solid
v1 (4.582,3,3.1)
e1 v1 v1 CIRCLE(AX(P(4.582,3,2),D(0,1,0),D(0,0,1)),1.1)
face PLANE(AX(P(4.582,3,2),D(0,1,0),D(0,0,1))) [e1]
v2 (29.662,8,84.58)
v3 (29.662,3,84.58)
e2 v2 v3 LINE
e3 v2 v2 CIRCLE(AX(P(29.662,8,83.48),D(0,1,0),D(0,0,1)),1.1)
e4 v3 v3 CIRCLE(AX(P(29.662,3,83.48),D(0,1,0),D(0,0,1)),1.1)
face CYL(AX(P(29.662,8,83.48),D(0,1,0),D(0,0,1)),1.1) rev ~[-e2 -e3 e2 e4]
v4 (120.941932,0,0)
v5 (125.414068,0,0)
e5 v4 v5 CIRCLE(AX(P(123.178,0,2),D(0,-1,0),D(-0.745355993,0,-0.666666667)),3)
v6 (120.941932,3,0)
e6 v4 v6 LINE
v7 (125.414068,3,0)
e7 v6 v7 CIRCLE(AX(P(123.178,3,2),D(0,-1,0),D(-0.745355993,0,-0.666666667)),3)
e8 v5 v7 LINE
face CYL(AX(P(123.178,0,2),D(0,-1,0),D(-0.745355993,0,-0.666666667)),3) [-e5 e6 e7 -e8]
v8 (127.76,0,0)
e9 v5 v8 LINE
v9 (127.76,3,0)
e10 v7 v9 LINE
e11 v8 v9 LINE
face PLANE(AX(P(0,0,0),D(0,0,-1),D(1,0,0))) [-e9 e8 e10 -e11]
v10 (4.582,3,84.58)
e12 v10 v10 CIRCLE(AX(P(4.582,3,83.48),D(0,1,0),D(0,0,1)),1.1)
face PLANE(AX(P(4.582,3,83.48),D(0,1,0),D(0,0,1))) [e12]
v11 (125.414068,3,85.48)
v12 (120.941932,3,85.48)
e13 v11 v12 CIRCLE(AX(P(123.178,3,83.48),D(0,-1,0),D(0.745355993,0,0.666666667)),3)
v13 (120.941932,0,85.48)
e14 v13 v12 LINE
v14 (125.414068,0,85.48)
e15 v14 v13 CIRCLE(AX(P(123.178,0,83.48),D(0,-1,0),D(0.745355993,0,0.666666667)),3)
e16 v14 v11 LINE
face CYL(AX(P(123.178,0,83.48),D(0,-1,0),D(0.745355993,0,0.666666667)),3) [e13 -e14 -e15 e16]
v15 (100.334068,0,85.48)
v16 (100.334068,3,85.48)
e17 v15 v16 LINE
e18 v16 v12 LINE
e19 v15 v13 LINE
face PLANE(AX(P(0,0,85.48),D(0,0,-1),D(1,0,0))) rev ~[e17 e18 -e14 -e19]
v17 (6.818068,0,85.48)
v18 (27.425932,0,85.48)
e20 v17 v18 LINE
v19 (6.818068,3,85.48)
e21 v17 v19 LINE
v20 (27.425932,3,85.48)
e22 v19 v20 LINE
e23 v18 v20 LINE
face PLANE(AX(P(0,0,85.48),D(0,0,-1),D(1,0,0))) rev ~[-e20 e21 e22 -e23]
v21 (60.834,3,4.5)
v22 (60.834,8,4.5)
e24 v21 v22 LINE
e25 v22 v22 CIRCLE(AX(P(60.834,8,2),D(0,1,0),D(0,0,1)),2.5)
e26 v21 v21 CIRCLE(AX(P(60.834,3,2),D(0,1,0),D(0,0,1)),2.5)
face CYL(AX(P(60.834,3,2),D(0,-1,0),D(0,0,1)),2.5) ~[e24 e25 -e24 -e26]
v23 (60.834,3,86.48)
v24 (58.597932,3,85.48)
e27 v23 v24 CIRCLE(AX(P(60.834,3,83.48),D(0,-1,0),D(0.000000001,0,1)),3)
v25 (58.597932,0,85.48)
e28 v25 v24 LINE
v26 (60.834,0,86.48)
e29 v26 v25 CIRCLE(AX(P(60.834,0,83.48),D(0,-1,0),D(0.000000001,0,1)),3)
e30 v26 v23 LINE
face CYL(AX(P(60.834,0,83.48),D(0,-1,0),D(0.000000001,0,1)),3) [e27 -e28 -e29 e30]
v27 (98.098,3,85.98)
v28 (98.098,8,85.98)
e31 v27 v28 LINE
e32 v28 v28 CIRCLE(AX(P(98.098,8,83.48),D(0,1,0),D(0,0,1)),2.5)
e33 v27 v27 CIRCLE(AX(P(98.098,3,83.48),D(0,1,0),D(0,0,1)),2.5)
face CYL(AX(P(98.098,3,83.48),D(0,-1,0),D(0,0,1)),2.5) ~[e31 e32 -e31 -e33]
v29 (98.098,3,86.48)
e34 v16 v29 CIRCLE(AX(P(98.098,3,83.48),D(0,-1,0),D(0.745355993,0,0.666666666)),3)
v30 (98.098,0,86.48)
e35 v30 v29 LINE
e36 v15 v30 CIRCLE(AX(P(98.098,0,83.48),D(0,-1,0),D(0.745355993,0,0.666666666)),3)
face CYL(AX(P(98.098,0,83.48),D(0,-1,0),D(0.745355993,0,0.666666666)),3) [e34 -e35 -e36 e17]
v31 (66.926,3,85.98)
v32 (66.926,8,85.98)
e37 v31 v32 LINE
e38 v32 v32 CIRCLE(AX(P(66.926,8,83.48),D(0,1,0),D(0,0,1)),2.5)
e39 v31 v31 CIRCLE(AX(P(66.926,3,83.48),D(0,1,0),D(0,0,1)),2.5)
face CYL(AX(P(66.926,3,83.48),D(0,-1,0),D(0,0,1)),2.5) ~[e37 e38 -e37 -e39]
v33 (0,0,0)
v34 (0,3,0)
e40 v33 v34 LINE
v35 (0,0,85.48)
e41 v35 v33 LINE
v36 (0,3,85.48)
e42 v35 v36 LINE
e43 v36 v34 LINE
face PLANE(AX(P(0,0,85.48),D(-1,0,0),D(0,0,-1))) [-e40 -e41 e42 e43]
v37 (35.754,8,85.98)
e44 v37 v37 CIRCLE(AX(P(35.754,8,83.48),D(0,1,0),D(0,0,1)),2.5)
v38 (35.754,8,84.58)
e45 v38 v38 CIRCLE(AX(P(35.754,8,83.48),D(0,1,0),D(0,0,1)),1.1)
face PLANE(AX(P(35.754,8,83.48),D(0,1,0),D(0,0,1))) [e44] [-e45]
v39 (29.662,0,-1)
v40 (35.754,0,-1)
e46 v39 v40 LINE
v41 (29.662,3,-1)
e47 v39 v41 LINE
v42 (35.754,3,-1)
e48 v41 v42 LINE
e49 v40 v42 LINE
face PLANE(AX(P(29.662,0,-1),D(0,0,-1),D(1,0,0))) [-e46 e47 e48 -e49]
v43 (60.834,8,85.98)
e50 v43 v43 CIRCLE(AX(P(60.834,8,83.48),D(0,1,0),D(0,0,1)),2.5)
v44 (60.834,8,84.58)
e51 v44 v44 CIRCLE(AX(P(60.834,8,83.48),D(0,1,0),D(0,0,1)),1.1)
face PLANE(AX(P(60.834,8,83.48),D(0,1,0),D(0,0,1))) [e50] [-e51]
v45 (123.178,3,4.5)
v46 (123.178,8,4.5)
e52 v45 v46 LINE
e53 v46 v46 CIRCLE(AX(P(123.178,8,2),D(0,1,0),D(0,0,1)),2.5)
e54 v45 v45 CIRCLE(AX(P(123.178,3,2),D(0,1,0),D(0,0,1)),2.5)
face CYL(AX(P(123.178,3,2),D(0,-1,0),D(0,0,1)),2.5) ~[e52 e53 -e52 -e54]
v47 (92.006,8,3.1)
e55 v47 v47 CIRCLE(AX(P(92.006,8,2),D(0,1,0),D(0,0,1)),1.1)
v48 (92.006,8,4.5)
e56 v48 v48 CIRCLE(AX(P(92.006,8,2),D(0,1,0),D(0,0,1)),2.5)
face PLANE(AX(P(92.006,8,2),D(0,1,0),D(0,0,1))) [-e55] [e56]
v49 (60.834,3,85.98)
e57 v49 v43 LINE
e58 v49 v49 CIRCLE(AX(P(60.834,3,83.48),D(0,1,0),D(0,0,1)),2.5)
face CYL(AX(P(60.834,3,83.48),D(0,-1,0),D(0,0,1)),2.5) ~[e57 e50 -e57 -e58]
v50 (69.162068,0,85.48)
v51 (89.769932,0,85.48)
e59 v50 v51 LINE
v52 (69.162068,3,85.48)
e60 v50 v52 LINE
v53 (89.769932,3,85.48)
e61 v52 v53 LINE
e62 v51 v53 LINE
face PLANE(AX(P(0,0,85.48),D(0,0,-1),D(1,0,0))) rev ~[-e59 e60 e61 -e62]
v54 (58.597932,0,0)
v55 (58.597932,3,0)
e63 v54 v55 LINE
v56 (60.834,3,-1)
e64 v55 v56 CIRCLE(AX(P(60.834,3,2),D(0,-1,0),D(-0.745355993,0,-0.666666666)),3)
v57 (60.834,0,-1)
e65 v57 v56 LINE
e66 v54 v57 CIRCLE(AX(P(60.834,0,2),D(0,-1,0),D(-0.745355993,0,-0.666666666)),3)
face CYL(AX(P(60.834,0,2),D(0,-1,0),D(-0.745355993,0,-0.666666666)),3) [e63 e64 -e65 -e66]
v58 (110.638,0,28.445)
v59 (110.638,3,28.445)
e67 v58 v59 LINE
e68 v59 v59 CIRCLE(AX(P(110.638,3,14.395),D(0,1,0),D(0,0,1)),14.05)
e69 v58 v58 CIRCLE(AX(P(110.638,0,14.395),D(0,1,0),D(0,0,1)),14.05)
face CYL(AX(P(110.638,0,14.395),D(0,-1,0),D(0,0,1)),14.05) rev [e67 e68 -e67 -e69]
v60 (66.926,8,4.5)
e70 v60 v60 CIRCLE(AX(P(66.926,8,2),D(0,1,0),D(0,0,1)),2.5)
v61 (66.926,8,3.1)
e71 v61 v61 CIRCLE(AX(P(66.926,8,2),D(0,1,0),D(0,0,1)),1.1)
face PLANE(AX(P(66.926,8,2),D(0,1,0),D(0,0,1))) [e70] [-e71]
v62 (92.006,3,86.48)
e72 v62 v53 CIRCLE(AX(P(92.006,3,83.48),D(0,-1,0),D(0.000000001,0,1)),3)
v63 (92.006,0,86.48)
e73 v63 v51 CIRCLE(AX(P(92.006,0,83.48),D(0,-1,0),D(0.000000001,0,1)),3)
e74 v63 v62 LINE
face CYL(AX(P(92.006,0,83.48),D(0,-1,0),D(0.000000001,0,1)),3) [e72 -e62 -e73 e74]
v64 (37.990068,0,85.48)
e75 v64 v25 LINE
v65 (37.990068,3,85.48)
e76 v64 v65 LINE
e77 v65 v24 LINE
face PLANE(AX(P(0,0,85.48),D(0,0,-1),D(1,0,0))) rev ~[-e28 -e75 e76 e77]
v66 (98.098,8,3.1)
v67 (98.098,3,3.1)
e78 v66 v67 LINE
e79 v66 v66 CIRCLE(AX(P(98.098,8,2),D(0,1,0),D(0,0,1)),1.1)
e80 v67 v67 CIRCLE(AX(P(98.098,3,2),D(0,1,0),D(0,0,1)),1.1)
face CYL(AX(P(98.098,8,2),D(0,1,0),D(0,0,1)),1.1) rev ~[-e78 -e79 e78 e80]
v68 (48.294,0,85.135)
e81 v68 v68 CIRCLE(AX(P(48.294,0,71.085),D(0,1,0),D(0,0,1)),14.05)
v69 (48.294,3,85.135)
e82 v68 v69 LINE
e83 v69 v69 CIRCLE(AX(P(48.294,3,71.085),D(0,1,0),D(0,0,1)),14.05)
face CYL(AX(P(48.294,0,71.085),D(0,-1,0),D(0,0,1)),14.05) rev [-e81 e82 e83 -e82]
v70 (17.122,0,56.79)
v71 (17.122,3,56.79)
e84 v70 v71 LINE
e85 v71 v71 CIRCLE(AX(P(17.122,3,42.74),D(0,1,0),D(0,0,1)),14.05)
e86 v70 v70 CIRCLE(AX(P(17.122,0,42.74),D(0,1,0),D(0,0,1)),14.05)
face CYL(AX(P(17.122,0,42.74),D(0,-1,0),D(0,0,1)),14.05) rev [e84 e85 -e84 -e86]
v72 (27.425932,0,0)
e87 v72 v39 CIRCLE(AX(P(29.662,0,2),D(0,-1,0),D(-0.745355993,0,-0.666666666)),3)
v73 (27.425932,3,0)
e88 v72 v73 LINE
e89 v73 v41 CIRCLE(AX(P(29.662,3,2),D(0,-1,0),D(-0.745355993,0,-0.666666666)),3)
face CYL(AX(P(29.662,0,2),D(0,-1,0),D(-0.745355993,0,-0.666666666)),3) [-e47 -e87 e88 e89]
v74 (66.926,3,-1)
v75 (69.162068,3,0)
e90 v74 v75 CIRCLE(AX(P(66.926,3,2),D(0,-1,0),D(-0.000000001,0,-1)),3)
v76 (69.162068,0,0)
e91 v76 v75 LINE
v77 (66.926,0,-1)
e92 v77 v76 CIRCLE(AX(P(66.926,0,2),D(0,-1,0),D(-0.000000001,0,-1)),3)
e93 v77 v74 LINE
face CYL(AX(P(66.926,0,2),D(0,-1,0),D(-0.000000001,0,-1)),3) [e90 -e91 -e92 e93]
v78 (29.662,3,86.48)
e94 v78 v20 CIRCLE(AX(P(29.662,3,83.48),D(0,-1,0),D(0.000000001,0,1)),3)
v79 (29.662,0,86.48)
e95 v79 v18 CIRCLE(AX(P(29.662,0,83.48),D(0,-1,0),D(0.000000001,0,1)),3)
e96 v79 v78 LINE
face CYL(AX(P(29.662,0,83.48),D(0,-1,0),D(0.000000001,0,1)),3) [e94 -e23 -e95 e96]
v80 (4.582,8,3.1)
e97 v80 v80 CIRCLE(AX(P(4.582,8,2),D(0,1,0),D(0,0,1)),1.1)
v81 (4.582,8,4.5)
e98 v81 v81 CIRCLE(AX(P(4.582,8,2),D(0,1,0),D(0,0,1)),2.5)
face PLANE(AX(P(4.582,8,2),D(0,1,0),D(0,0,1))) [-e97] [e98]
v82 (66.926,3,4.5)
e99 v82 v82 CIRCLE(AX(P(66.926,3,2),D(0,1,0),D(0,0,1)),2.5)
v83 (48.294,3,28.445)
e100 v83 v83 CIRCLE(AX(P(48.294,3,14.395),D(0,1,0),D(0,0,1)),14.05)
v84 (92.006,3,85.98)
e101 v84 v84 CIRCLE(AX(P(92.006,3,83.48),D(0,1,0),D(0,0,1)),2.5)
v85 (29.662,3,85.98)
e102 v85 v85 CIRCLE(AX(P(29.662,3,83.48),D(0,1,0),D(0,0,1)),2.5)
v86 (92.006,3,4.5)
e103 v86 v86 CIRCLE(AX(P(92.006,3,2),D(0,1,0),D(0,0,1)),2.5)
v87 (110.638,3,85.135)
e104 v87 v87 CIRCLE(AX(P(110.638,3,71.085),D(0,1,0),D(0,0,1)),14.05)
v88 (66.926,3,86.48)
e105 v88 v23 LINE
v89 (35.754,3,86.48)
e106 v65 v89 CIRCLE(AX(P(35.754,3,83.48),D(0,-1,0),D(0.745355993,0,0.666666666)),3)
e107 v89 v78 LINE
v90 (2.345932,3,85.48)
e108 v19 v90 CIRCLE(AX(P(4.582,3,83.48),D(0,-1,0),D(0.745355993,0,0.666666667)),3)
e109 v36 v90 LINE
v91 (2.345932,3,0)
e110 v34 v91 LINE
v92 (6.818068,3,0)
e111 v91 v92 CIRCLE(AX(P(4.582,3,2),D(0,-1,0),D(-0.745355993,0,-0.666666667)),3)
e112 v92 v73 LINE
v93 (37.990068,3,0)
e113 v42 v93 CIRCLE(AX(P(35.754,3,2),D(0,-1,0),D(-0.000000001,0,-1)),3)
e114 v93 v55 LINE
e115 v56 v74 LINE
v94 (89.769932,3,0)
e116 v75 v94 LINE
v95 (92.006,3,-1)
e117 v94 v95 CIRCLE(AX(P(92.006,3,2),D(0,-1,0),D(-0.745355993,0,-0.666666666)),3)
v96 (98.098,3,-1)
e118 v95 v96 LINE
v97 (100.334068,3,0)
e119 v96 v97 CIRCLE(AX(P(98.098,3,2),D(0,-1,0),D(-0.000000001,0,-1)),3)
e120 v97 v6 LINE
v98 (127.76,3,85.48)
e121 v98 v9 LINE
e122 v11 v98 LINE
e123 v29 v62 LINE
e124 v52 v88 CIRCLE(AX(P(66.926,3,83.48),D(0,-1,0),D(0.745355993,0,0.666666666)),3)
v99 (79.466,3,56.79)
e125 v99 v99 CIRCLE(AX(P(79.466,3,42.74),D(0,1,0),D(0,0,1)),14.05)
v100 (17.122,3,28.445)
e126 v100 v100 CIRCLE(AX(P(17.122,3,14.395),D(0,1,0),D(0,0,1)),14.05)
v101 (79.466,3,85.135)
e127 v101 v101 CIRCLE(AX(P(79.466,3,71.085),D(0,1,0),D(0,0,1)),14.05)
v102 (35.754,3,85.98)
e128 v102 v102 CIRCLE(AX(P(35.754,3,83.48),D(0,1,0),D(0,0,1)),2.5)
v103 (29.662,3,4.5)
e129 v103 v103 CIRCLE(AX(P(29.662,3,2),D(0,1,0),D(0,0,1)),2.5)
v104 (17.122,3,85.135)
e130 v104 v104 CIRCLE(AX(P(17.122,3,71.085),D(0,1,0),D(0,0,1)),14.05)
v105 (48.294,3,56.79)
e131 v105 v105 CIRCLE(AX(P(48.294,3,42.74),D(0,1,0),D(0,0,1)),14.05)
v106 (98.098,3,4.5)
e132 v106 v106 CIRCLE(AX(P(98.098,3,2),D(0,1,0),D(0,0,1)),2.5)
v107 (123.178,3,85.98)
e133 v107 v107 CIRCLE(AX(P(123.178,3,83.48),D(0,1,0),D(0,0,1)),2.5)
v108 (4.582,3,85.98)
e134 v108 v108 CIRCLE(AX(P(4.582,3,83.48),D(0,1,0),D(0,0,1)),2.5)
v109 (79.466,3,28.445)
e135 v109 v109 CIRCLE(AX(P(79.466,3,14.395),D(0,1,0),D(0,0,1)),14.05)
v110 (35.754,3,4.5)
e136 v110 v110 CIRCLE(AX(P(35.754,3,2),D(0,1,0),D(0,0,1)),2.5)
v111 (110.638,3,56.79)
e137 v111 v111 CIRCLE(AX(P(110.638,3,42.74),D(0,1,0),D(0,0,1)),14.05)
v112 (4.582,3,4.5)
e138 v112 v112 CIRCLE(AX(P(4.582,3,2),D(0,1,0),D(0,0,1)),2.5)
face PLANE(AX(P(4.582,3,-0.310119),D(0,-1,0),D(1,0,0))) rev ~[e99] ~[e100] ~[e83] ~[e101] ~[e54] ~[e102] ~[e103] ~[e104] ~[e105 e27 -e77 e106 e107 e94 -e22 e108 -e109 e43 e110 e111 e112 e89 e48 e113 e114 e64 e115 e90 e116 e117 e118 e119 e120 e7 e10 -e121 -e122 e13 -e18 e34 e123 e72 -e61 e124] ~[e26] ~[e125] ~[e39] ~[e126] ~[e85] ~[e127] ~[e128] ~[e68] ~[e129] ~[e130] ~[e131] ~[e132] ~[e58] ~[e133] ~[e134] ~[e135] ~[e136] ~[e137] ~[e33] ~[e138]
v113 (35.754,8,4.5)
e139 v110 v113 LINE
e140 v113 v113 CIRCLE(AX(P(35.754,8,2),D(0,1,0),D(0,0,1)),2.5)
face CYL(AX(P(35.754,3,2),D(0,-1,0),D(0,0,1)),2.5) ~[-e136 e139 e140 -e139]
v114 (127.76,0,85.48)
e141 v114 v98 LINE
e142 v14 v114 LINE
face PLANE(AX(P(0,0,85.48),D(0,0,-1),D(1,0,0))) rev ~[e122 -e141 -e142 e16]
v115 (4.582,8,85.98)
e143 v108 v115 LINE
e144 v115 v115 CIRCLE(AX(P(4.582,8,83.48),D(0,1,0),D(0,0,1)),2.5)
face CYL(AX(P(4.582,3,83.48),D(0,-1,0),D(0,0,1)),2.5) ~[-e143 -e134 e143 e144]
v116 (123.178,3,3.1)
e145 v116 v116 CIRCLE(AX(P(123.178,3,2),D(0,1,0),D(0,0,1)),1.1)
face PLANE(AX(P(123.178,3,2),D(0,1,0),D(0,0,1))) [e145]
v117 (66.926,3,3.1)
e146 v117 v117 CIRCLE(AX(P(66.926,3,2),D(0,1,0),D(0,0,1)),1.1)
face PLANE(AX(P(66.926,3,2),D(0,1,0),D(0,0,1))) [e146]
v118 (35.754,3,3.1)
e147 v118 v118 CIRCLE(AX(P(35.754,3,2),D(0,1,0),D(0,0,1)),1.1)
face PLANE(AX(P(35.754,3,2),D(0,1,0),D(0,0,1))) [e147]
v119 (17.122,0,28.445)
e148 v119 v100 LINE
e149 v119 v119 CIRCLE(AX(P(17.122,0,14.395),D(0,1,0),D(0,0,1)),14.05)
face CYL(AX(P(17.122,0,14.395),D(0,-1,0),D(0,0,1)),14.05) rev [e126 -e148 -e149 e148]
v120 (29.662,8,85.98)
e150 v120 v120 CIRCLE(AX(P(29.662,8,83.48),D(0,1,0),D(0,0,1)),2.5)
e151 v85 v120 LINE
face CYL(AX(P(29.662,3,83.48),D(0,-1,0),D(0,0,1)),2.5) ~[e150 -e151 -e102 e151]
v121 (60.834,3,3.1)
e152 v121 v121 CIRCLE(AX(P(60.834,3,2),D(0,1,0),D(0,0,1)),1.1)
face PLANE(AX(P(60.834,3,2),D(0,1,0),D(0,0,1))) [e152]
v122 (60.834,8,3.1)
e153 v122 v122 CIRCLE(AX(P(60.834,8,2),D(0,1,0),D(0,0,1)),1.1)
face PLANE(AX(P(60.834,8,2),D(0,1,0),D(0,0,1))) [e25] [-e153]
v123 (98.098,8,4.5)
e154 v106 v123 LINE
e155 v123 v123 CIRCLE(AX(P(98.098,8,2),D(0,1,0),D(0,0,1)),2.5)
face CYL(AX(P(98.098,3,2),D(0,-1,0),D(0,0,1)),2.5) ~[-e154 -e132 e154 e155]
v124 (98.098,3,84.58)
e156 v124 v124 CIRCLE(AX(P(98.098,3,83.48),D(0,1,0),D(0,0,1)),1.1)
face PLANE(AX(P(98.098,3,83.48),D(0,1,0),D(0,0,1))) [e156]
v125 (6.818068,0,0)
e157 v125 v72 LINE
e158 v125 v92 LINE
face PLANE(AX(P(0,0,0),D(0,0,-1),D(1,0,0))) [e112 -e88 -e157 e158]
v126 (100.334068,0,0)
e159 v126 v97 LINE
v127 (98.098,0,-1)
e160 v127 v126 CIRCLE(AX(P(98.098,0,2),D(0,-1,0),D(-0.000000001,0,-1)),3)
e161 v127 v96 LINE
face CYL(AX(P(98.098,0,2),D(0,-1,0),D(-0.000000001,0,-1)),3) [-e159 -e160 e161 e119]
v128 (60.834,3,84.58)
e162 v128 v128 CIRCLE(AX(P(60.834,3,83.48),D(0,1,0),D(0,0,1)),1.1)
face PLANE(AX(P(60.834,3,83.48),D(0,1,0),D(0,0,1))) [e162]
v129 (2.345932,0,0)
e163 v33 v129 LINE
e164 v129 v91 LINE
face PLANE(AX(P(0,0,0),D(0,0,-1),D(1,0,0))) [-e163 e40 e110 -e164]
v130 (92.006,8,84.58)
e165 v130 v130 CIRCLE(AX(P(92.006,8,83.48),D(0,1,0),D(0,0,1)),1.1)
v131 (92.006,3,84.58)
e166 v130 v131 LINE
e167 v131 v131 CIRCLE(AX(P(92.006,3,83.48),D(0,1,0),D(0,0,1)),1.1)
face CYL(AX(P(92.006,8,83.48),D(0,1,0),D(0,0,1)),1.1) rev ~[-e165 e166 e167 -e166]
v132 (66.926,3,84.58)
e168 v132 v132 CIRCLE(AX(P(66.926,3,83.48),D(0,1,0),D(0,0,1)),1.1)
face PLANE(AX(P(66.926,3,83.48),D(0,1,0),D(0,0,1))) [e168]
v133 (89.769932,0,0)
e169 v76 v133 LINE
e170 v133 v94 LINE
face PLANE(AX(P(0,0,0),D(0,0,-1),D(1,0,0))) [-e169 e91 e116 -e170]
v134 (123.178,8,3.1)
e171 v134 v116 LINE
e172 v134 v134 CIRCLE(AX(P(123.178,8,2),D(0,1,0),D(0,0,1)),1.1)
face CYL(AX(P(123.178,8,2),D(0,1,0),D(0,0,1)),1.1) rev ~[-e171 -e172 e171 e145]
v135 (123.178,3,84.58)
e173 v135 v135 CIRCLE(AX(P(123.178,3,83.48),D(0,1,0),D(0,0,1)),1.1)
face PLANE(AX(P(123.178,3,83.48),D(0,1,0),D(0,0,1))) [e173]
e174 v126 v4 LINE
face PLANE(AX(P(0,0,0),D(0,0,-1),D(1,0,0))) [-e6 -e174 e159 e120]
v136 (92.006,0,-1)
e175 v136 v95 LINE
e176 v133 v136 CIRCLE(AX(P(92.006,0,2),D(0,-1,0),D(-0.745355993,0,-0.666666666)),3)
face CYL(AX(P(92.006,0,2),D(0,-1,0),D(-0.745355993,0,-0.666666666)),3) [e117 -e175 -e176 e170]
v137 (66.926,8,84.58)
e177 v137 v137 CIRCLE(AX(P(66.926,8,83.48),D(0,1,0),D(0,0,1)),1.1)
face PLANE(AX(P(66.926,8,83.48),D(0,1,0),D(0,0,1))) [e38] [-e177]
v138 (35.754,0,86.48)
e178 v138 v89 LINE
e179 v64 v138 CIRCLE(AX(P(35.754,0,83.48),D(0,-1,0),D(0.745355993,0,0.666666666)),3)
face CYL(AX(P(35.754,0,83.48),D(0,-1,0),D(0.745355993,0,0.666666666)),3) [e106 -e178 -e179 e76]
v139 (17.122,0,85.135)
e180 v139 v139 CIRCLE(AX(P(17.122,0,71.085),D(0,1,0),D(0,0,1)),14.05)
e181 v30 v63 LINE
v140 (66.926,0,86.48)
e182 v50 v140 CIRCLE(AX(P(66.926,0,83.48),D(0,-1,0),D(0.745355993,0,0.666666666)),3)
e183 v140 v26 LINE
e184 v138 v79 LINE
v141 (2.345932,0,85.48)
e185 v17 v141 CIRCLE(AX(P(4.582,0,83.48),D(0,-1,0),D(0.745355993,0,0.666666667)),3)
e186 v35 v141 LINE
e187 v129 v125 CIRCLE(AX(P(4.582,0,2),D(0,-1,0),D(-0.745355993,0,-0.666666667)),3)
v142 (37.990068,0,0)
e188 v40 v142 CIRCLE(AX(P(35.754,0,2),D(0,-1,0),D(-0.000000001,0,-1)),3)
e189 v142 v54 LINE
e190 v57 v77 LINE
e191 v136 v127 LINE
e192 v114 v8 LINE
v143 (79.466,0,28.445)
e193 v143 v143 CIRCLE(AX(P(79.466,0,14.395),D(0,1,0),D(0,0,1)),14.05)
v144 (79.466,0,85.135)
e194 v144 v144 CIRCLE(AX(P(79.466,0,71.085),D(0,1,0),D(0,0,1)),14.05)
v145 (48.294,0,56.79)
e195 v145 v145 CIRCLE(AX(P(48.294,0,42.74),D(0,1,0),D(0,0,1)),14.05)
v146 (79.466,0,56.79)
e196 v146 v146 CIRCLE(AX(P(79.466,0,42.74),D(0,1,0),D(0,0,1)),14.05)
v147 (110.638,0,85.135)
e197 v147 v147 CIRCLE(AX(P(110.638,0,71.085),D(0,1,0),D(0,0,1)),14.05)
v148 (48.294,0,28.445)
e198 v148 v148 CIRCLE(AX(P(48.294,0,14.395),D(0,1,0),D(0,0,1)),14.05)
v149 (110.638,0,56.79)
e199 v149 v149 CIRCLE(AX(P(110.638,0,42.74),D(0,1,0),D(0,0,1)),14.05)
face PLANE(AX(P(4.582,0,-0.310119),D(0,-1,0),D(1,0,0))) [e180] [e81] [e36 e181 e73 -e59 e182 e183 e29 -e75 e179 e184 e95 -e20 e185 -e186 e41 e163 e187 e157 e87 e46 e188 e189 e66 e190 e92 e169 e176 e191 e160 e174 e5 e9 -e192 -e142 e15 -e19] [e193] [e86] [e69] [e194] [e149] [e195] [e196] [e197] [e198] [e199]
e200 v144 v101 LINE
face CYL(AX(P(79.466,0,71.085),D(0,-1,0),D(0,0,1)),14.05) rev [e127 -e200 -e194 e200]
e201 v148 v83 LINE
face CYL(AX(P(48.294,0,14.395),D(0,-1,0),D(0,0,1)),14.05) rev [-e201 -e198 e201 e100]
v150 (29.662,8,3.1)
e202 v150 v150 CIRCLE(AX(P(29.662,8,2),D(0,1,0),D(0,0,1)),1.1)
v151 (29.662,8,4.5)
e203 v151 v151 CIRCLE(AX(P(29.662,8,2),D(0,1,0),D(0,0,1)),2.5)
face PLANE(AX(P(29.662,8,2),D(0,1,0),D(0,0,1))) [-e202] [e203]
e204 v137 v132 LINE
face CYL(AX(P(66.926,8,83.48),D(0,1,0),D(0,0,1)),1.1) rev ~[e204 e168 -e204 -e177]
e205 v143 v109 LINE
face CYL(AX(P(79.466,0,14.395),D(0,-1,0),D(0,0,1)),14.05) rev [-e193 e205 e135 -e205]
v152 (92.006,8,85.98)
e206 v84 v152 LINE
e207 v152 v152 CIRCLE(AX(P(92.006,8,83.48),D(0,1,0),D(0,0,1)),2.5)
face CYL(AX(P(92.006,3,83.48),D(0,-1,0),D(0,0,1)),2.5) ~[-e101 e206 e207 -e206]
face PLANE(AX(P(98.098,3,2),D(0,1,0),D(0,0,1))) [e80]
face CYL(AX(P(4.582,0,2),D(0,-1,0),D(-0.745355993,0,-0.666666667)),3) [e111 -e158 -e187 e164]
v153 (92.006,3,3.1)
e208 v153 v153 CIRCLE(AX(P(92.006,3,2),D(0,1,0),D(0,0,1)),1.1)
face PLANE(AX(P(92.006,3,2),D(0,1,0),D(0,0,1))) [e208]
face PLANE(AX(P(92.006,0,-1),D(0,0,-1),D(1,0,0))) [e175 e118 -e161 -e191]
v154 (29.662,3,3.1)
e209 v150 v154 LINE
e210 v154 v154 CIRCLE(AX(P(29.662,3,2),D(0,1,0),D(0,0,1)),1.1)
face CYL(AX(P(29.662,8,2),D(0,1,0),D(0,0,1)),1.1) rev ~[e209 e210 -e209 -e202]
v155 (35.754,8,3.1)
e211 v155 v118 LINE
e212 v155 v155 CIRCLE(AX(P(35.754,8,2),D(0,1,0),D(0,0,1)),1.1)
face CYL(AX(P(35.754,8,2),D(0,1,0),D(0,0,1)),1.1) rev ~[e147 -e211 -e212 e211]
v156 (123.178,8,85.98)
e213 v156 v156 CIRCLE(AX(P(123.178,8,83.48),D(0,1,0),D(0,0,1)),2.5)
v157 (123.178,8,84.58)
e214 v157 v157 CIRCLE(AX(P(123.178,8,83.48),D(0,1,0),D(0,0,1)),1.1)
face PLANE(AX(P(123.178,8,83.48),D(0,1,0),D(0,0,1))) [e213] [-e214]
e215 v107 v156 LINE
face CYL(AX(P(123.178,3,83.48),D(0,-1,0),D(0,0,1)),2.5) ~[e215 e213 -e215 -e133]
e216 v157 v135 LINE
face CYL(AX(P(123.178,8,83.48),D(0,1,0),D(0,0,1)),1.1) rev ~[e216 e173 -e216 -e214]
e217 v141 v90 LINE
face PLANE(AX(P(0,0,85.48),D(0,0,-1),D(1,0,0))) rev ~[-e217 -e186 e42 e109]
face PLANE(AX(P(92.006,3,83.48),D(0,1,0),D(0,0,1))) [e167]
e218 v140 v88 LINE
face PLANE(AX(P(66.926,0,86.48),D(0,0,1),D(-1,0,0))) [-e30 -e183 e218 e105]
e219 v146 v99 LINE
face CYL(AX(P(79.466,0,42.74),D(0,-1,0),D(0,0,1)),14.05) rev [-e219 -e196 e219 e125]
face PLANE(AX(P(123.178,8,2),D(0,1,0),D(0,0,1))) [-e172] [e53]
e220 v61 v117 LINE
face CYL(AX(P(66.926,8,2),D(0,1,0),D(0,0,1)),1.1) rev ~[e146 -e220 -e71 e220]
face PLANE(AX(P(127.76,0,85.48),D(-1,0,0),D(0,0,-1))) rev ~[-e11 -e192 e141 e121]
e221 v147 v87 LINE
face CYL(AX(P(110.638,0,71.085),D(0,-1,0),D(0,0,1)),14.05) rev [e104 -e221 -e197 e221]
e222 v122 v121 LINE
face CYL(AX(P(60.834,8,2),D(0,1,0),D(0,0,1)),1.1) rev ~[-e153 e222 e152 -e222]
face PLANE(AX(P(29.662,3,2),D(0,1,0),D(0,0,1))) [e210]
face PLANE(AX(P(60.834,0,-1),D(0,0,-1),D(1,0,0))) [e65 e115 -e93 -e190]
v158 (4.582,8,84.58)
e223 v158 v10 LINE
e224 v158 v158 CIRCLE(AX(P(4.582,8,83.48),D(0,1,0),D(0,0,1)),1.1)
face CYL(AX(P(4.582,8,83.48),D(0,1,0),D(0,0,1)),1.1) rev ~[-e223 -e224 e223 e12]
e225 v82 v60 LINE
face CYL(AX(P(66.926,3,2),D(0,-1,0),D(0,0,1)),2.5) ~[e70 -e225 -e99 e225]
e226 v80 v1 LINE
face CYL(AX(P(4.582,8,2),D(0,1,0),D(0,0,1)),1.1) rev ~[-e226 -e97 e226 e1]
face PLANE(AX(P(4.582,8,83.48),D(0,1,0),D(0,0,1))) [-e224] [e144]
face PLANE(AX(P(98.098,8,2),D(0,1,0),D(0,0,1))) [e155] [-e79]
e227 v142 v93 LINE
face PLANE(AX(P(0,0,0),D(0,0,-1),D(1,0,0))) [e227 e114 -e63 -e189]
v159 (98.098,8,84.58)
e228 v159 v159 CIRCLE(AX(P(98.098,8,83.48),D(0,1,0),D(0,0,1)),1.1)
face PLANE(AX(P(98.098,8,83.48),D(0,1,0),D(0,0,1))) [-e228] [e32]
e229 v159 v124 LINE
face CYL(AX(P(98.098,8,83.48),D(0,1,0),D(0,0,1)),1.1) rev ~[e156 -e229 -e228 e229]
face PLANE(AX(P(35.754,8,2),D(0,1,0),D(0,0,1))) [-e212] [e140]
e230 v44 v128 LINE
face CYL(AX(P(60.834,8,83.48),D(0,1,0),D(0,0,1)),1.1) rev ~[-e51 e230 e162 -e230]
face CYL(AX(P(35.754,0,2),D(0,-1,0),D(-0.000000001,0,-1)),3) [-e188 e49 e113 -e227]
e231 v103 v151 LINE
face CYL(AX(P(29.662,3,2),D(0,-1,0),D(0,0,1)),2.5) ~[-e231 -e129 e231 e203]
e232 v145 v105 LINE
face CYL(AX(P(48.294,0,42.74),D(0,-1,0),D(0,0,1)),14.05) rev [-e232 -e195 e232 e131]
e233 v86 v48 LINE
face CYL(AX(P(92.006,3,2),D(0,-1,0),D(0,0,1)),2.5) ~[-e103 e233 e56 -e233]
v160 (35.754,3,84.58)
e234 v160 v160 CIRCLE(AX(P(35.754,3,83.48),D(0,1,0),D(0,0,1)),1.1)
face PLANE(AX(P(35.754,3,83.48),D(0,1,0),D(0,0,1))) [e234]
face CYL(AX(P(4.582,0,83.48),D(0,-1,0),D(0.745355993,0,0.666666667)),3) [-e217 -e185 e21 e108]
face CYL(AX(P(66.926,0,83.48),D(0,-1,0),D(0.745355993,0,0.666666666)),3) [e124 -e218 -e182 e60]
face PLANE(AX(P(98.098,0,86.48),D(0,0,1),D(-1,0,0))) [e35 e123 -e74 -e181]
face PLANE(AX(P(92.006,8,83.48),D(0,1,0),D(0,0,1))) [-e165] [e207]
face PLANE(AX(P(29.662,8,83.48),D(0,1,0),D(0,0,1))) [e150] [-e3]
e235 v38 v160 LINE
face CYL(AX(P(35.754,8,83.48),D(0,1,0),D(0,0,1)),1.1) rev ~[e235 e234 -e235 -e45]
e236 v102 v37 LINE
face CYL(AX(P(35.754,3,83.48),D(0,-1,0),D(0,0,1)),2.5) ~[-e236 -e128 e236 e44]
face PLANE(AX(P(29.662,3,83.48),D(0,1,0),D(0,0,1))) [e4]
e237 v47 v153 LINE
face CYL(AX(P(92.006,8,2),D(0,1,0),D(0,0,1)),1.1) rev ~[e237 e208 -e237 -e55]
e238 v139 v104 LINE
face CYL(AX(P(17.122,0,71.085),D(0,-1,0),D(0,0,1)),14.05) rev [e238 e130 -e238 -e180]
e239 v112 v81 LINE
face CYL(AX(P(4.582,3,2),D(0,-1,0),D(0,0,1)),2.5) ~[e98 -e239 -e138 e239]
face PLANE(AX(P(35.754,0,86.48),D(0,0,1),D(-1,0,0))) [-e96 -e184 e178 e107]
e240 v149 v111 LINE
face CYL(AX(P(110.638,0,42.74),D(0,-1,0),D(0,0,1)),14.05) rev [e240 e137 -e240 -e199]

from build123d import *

# Parameters (mm, degrees)
SKETCH1_W           = 127.76
SKETCH1_H           = 85.48
SKETCH1_R           = 14.05
BOSS_EXTRUDE3_DEPTH = 3
BOSS_EXTRUDE4_DEPTH = 3
BOSS_EXTRUDE5_START = 3
SKETCH7_R           = 2.5
BOSS_EXTRUDE5_DEPTH = 5
CUT_EXTRUDE1_START  = 5
SKETCH4_R           = 1.1
CUT_EXTRUDE1_DEPTH  = 5


with BuildPart() as part:
    # Sketch1 → Boss-Extrude3 (new body)
    with BuildSketch(Plane(origin=(0, 0, 0), x_dir=(1, 0, 0), z_dir=(0, 1, 0))):
        with Locations((63.88, -42.74)):
            Rectangle(SKETCH1_W, SKETCH1_H)
        with Locations(Location((17.122, -71.085, 0), (0, 0, 270))):
            Circle(SKETCH1_R, mode=Mode.SUBTRACT)
        with Locations(Location((17.122, -42.74, 0), (0, 0, 270))):
            Circle(SKETCH1_R, mode=Mode.SUBTRACT)
        with Locations(Location((110.638, -71.085, 0), (0, 0, 270))):
            Circle(SKETCH1_R, mode=Mode.SUBTRACT)
        with Locations(Location((79.466, -71.085, 0), (0, 0, 270))):
            Circle(SKETCH1_R, mode=Mode.SUBTRACT)
        with Locations(Location((48.294, -71.085, 0), (0, 0, 270))):
            Circle(SKETCH1_R, mode=Mode.SUBTRACT)
        with Locations(Location((110.638, -42.74, 0), (0, 0, 270))):
            Circle(SKETCH1_R, mode=Mode.SUBTRACT)
        with Locations(Location((79.466, -42.74, 0), (0, 0, 270))):
            Circle(SKETCH1_R, mode=Mode.SUBTRACT)
        with Locations(Location((48.294, -42.74, 0), (0, 0, 270))):
            Circle(SKETCH1_R, mode=Mode.SUBTRACT)
        with Locations(Location((110.638, -14.395, 0), (0, 0, 270))):
            Circle(SKETCH1_R, mode=Mode.SUBTRACT)
        with Locations(Location((79.466, -14.395, 0), (0, 0, 270))):
            Circle(SKETCH1_R, mode=Mode.SUBTRACT)
        with Locations(Location((48.294, -14.395, 0), (0, 0, 270))):
            Circle(SKETCH1_R, mode=Mode.SUBTRACT)
        with Locations(Location((17.122, -14.395, 0), (0, 0, 270))):
            Circle(SKETCH1_R, mode=Mode.SUBTRACT)
    extrude(amount=BOSS_EXTRUDE3_DEPTH)

    # Sketch2 → Boss-Extrude4 (add)
    with BuildSketch(Plane.XZ):
        with BuildLine():
            ThreePointArc((2.345932023, 0), (4.582, -1), (6.818067977, 0))
            Line((6.818067977, 0), (2.345932023, 0))
        make_face()
        with BuildLine():
            Line((2.345932023, 0), (6.818067977, 0))
            ThreePointArc((6.818067977, 0), (7.384517077, 0.929533731), (7.582, 2))
            ThreePointArc((7.582, 2), (3.511533731, 4.802517077), (2.345932023, 0))
        make_face()
        with BuildLine():
            ThreePointArc((32.662, 2), (31.783320344, 4.121320344), (29.662, 5))
            Line((29.662, 5), (29.662, 0))
            Line((29.662, 0), (31.898067977, 0))
            ThreePointArc((31.898067977, 0), (32.464517077, 0.929533731), (32.662, 2))
        make_face()
        with BuildLine():
            Line((29.662, 0), (29.662, 5))
            ThreePointArc((29.662, 5), (26.923387212, 3.224744871), (27.425932023, 0))
            Line((27.425932023, 0), (29.662, 0))
        make_face()
        with BuildLine():
            Line((31.898067977, 0), (29.662, 0))
            Line((29.662, 0), (29.662, -1))
            ThreePointArc((29.662, -1), (30.886744871, -0.738612788), (31.898067977, 0))
        make_face()
        with BuildLine():
            Line((29.662, -1), (29.662, 0))
            Line((29.662, 0), (27.425932023, 0))
            ThreePointArc((27.425932023, 0), (28.437255129, -0.738612788), (29.662, -1))
        make_face()
        with BuildLine():
            ThreePointArc((35.754, -1), (34.529255129, -0.738612788), (33.517932023, 0))
            Line((33.517932023, 0), (31.898067977, 0))
            ThreePointArc((31.898067977, 0), (30.886744871, -0.738612788), (29.662, -1))
            Line((29.662, -1), (35.754, -1))
        make_face()
        with BuildLine():
            ThreePointArc((38.754, 2), (37.875320344, 4.121320344), (35.754, 5))
            Line((35.754, 5), (35.754, 0))
            Line((35.754, 0), (37.990067977, 0))
            ThreePointArc((37.990067977, 0), (38.556517077, 0.929533731), (38.754, 2))
        make_face()
        with BuildLine():
            Line((35.754, 0), (35.754, 5))
            ThreePointArc((35.754, 5), (33.015387212, 3.224744871), (33.517932023, 0))
            Line((33.517932023, 0), (35.754, 0))
        make_face()
        with BuildLine():
            Line((37.990067977, 0), (35.754, 0))
            Line((35.754, 0), (35.754, -1))
            ThreePointArc((35.754, -1), (36.978744871, -0.738612788), (37.990067977, 0))
        make_face()
        with BuildLine():
            Line((35.754, -1), (35.754, 0))
            Line((35.754, 0), (33.517932023, 0))
            ThreePointArc((33.517932023, 0), (34.529255129, -0.738612788), (35.754, -1))
        make_face()
        with BuildLine():
            ThreePointArc((60.834, 5), (58.095387212, 3.224744871), (58.597932023, 0))
            Line((58.597932023, 0), (60.834, 0))
            Line((60.834, 0), (60.834, 5))
        make_face()
        with BuildLine():
            Line((60.834, 0), (58.597932023, 0))
            ThreePointArc((58.597932023, 0), (59.609255129, -0.738612788), (60.834, -1))
            Line((60.834, -1), (60.834, 0))
        make_face()
        with BuildLine():
            ThreePointArc((63.834, 2), (62.955320344, 4.121320344), (60.834, 5))
            Line((60.834, 5), (60.834, 0))
            Line((60.834, 0), (63.070067977, 0))
            ThreePointArc((63.070067977, 0), (63.636517077, 0.929533731), (63.834, 2))
        make_face()
        with BuildLine():
            Line((60.834, 0), (60.834, -1))
            ThreePointArc((60.834, -1), (62.058744871, -0.738612788), (63.070067977, 0))
            Line((63.070067977, 0), (60.834, 0))
        make_face()
        with BuildLine():
            ThreePointArc((63.070067977, 0), (62.058744871, -0.738612788), (60.834, -1))
            Line((60.834, -1), (66.926, -1))
            ThreePointArc((66.926, -1), (65.701255129, -0.738612788), (64.689932023, 0))
            Line((64.689932023, 0), (63.070067977, 0))
        make_face()
        with BuildLine():
            ThreePointArc((69.926, 2), (69.047320344, 4.121320344), (66.926, 5))
            Line((66.926, 5), (66.926, 0))
            Line((66.926, 0), (69.162067977, 0))
            ThreePointArc((69.162067977, 0), (69.728517077, 0.929533731), (69.926, 2))
        make_face()
        with BuildLine():
            Line((66.926, 0), (66.926, 5))
            ThreePointArc((66.926, 5), (64.187387212, 3.224744871), (64.689932023, 0))
            Line((64.689932023, 0), (66.926, 0))
        make_face()
        with BuildLine():
            ThreePointArc((64.689932023, 0), (65.701255129, -0.738612788), (66.926, -1))
            Line((66.926, -1), (66.926, 0))
            Line((66.926, 0), (64.689932023, 0))
        make_face()
        with BuildLine():
            Line((66.926, 0), (66.926, -1))
            ThreePointArc((66.926, -1), (68.150744871, -0.738612788), (69.162067977, 0))
            Line((69.162067977, 0), (66.926, 0))
        make_face()
        with BuildLine():
            ThreePointArc((92.006, 5), (89.267387212, 3.224744871), (89.769932023, 0))
            Line((89.769932023, 0), (92.006, 0))
            Line((92.006, 0), (92.006, 5))
        make_face()
        with BuildLine():
            Line((92.006, 0), (89.769932023, 0))
            ThreePointArc((89.769932023, 0), (90.781255129, -0.738612788), (92.006, -1))
            Line((92.006, -1), (92.006, 0))
        make_face()
        with BuildLine():
            ThreePointArc((95.006, 2), (94.127320344, 4.121320344), (92.006, 5))
            Line((92.006, 5), (92.006, 0))
            Line((92.006, 0), (94.242067977, 0))
            ThreePointArc((94.242067977, 0), (94.808517077, 0.929533731), (95.006, 2))
        make_face()
        with BuildLine():
            Line((92.006, 0), (92.006, -1))
            ThreePointArc((92.006, -1), (93.230744871, -0.738612788), (94.242067977, 0))
            Line((94.242067977, 0), (92.006, 0))
        make_face()
        with BuildLine():
            ThreePointArc((94.242067977, 0), (93.230744871, -0.738612788), (92.006, -1))
            Line((92.006, -1), (98.098, -1))
            ThreePointArc((98.098, -1), (96.873255129, -0.738612788), (95.861932023, 0))
            Line((95.861932023, 0), (94.242067977, 0))
        make_face()
        with BuildLine():
            ThreePointArc((101.098, 2), (100.219320344, 4.121320344), (98.098, 5))
            Line((98.098, 5), (98.098, 0))
            Line((98.098, 0), (100.334067977, 0))
            ThreePointArc((100.334067977, 0), (100.900517077, 0.929533731), (101.098, 2))
        make_face()
        with BuildLine():
            Line((98.098, 0), (98.098, 5))
            ThreePointArc((98.098, 5), (95.359387212, 3.224744871), (95.861932023, 0))
            Line((95.861932023, 0), (98.098, 0))
        make_face()
        with BuildLine():
            ThreePointArc((95.861932023, 0), (96.873255129, -0.738612788), (98.098, -1))
            Line((98.098, -1), (98.098, 0))
            Line((98.098, 0), (95.861932023, 0))
        make_face()
        with BuildLine():
            Line((98.098, 0), (98.098, -1))
            ThreePointArc((98.098, -1), (99.322744871, -0.738612788), (100.334067977, 0))
            Line((100.334067977, 0), (98.098, 0))
        make_face()
        with BuildLine():
            ThreePointArc((126.178, 2), (122.107533731, 4.802517077), (120.941932023, 0))
            Line((120.941932023, 0), (125.414067977, 0))
            ThreePointArc((125.414067977, 0), (125.980517077, 0.929533731), (126.178, 2))
        make_face()
        with BuildLine():
            Line((125.414067977, 0), (120.941932023, 0))
            ThreePointArc((120.941932023, 0), (123.178, -1), (125.414067977, 0))
        make_face()
        with BuildLine():
            ThreePointArc((125.414067977, 85.48), (123.178, 86.48), (120.941932023, 85.48))
            Line((120.941932023, 85.48), (125.414067977, 85.48))
        make_face()
        with BuildLine():
            Line((125.414067977, 85.48), (120.941932023, 85.48))
            ThreePointArc((120.941932023, 85.48), (122.107533731, 80.677482923), (126.178, 83.48))
            ThreePointArc((126.178, 83.48), (125.980517077, 84.550466269), (125.414067977, 85.48))
        make_face()
        with BuildLine():
            ThreePointArc((100.334067977, 85.48), (99.322744871, 86.218612788), (98.098, 86.48))
            Line((98.098, 86.48), (98.098, 85.48))
            Line((98.098, 85.48), (100.334067977, 85.48))
        make_face()
        with BuildLine():
            Line((98.098, 85.48), (98.098, 86.48))
            ThreePointArc((98.098, 86.48), (96.873255129, 86.218612788), (95.861932023, 85.48))
            Line((95.861932023, 85.48), (98.098, 85.48))
        make_face()
        with BuildLine():
            Line((100.334067977, 85.48), (98.098, 85.48))
            Line((98.098, 85.48), (98.098, 80.48))
            ThreePointArc((98.098, 80.48), (100.219320344, 81.358679656), (101.098, 83.48))
            ThreePointArc((101.098, 83.48), (100.900517077, 84.550466269), (100.334067977, 85.48))
        make_face()
        with BuildLine():
            Line((98.098, 80.48), (98.098, 85.48))
            Line((98.098, 85.48), (95.861932023, 85.48))
            ThreePointArc((95.861932023, 85.48), (95.359387212, 82.255255129), (98.098, 80.48))
        make_face()
        with BuildLine():
            Line((98.098, 86.48), (92.006, 86.48))
            ThreePointArc((92.006, 86.48), (93.230744871, 86.218612788), (94.242067977, 85.48))
            Line((94.242067977, 85.48), (95.861932023, 85.48))
            ThreePointArc((95.861932023, 85.48), (96.873255129, 86.218612788), (98.098, 86.48))
        make_face()
        with BuildLine():
            ThreePointArc((94.242067977, 85.48), (93.230744871, 86.218612788), (92.006, 86.48))
            Line((92.006, 86.48), (92.006, 85.48))
            Line((92.006, 85.48), (94.242067977, 85.48))
        make_face()
        with BuildLine():
            Line((92.006, 85.48), (92.006, 86.48))
            ThreePointArc((92.006, 86.48), (90.781255129, 86.218612788), (89.769932023, 85.48))
            Line((89.769932023, 85.48), (92.006, 85.48))
        make_face()
        with BuildLine():
            Line((94.242067977, 85.48), (92.006, 85.48))
            Line((92.006, 85.48), (92.006, 80.48))
            ThreePointArc((92.006, 80.48), (94.127320344, 81.358679656), (95.006, 83.48))
            ThreePointArc((95.006, 83.48), (94.808517077, 84.550466269), (94.242067977, 85.48))
        make_face()
        with BuildLine():
            Line((92.006, 80.48), (92.006, 85.48))
            Line((92.006, 85.48), (89.769932023, 85.48))
            ThreePointArc((89.769932023, 85.48), (89.267387212, 82.255255129), (92.006, 80.48))
        make_face()
        with BuildLine():
            ThreePointArc((69.926, 83.48), (69.728517077, 84.550466269), (69.162067977, 85.48))
            Line((69.162067977, 85.48), (66.926, 85.48))
            Line((66.926, 85.48), (66.926, 80.48))
            ThreePointArc((66.926, 80.48), (69.047320344, 81.358679656), (69.926, 83.48))
        make_face()
        with BuildLine():
            Line((66.926, 85.48), (69.162067977, 85.48))
            ThreePointArc((69.162067977, 85.48), (68.150744871, 86.218612788), (66.926, 86.48))
            Line((66.926, 86.48), (66.926, 85.48))
        make_face()
        with BuildLine():
            Line((66.926, 85.48), (66.926, 86.48))
            ThreePointArc((66.926, 86.48), (65.701255129, 86.218612788), (64.689932023, 85.48))
            Line((64.689932023, 85.48), (66.926, 85.48))
        make_face()
        with BuildLine():
            Line((66.926, 80.48), (66.926, 85.48))
            Line((66.926, 85.48), (64.689932023, 85.48))
            ThreePointArc((64.689932023, 85.48), (64.187387212, 82.255255129), (66.926, 80.48))
        make_face()
        with BuildLine():
            ThreePointArc((64.689932023, 85.48), (65.701255129, 86.218612788), (66.926, 86.48))
            Line((66.926, 86.48), (60.834, 86.48))
            ThreePointArc((60.834, 86.48), (62.058744871, 86.218612788), (63.070067977, 85.48))
            Line((63.070067977, 85.48), (64.689932023, 85.48))
        make_face()
        with BuildLine():
            ThreePointArc((63.070067977, 85.48), (62.058744871, 86.218612788), (60.834, 86.48))
            Line((60.834, 86.48), (60.834, 85.48))
            Line((60.834, 85.48), (63.070067977, 85.48))
        make_face()
        with BuildLine():
            Line((60.834, 85.48), (60.834, 86.48))
            ThreePointArc((60.834, 86.48), (59.609255129, 86.218612788), (58.597932023, 85.48))
            Line((58.597932023, 85.48), (60.834, 85.48))
        make_face()
        with BuildLine():
            ThreePointArc((58.597932023, 85.48), (58.095387212, 82.255255129), (60.834, 80.48))
            Line((60.834, 80.48), (60.834, 85.48))
            Line((60.834, 85.48), (58.597932023, 85.48))
        make_face()
        with BuildLine():
            Line((60.834, 85.48), (60.834, 80.48))
            ThreePointArc((60.834, 80.48), (62.955320344, 81.358679656), (63.834, 83.48))
            ThreePointArc((63.834, 83.48), (63.636517077, 84.550466269), (63.070067977, 85.48))
            Line((63.070067977, 85.48), (60.834, 85.48))
        make_face()
        with BuildLine():
            ThreePointArc((7.582, 83.48), (7.384517077, 84.550466269), (6.818067977, 85.48))
            Line((6.818067977, 85.48), (2.345932023, 85.48))
            ThreePointArc((2.345932023, 85.48), (3.511533731, 80.677482923), (7.582, 83.48))
        make_face()
        with BuildLine():
            Line((2.345932023, 85.48), (6.818067977, 85.48))
            ThreePointArc((6.818067977, 85.48), (4.582, 86.48), (2.345932023, 85.48))
        make_face()
        with BuildLine():
            ThreePointArc((31.898067977, 85.48), (30.886744871, 86.218612788), (29.662, 86.48))
            Line((29.662, 86.48), (29.662, 85.48))
            Line((29.662, 85.48), (31.898067977, 85.48))
        make_face()
        with BuildLine():
            Line((29.662, 85.48), (29.662, 86.48))
            ThreePointArc((29.662, 86.48), (28.437255129, 86.218612788), (27.425932023, 85.48))
            Line((27.425932023, 85.48), (29.662, 85.48))
        make_face()
        with BuildLine():
            ThreePointArc((27.425932023, 85.48), (26.923387212, 82.255255129), (29.662, 80.48))
            Line((29.662, 80.48), (29.662, 85.48))
            Line((29.662, 85.48), (27.425932023, 85.48))
        make_face()
        with BuildLine():
            Line((29.662, 85.48), (29.662, 80.48))
            ThreePointArc((29.662, 80.48), (31.783320344, 81.358679656), (32.662, 83.48))
            ThreePointArc((32.662, 83.48), (32.464517077, 84.550466269), (31.898067977, 85.48))
            Line((31.898067977, 85.48), (29.662, 85.48))
        make_face()
        with BuildLine():
            ThreePointArc((33.517932023, 85.48), (34.529255129, 86.218612788), (35.754, 86.48))
            Line((35.754, 86.48), (29.662, 86.48))
            ThreePointArc((29.662, 86.48), (30.886744871, 86.218612788), (31.898067977, 85.48))
            Line((31.898067977, 85.48), (33.517932023, 85.48))
        make_face()
        with BuildLine():
            ThreePointArc((38.754, 83.48), (38.556517077, 84.550466269), (37.990067977, 85.48))
            Line((37.990067977, 85.48), (35.754, 85.48))
            Line((35.754, 85.48), (35.754, 80.48))
            ThreePointArc((35.754, 80.48), (37.875320344, 81.358679656), (38.754, 83.48))
        make_face()
        with BuildLine():
            Line((35.754, 85.48), (37.990067977, 85.48))
            ThreePointArc((37.990067977, 85.48), (36.978744871, 86.218612788), (35.754, 86.48))
            Line((35.754, 86.48), (35.754, 85.48))
        make_face()
        with BuildLine():
            Line((35.754, 85.48), (35.754, 86.48))
            ThreePointArc((35.754, 86.48), (34.529255129, 86.218612788), (33.517932023, 85.48))
            Line((33.517932023, 85.48), (35.754, 85.48))
        make_face()
        with BuildLine():
            Line((35.754, 80.48), (35.754, 85.48))
            Line((35.754, 85.48), (33.517932023, 85.48))
            ThreePointArc((33.517932023, 85.48), (33.015387212, 82.255255129), (35.754, 80.48))
        make_face()
    extrude(amount=-BOSS_EXTRUDE4_DEPTH)

    # Sketch7 → Boss-Extrude5 (add)
    with BuildSketch(Plane(origin=(0, 0, 0), x_dir=(1, 0, 0), z_dir=(0, 1, 0)).offset(BOSS_EXTRUDE5_START)):
        with Locations(Location((4.582, -83.48, 0), (0, 0, 270))):
            Circle(SKETCH7_R)
        with Locations(Location((29.662, -83.48, 0), (0, 0, 270))):
            Circle(SKETCH7_R)
        with Locations(Location((29.662, -2, 0), (0, 0, 270))):
            Circle(SKETCH7_R)
        with Locations(Location((4.582, -2, 0), (0, 0, 270))):
            Circle(SKETCH7_R)
        with Locations(Location((35.754, -83.48, 0), (0, 0, 270))):
            Circle(SKETCH7_R)
        with Locations(Location((60.834, -83.48, 0), (0, 0, 270))):
            Circle(SKETCH7_R)
        with Locations(Location((60.834, -2, 0), (0, 0, 270))):
            Circle(SKETCH7_R)
        with Locations(Location((35.754, -2, 0), (0, 0, 270))):
            Circle(SKETCH7_R)
        with Locations(Location((66.926, -83.48, 0), (0, 0, 270))):
            Circle(SKETCH7_R)
        with Locations(Location((92.006, -83.48, 0), (0, 0, 270))):
            Circle(SKETCH7_R)
        with Locations(Location((92.006, -2, 0), (0, 0, 270))):
            Circle(SKETCH7_R)
        with Locations(Location((66.926, -2, 0), (0, 0, 270))):
            Circle(SKETCH7_R)
        with Locations(Location((98.098, -83.48, 0), (0, 0, 270))):
            Circle(SKETCH7_R)
        with Locations(Location((123.178, -83.48, 0), (0, 0, 270))):
            Circle(SKETCH7_R)
        with Locations(Location((123.178, -2, 0), (0, 0, 270))):
            Circle(SKETCH7_R)
        with Locations(Location((98.098, -2, 0), (0, 0, 270))):
            Circle(SKETCH7_R)
    extrude(amount=BOSS_EXTRUDE5_DEPTH)

    # Sketch4 → Cut-Extrude1 (cut)
    with BuildSketch(Plane(origin=(0, 3, 0), x_dir=(1, 0, 0), z_dir=(0, 1, 0)).offset(CUT_EXTRUDE1_START)):
        with Locations(Location((4.582, -83.48, 0), (0, 0, 270))):
            Circle(SKETCH4_R)
        with Locations(Location((29.662, -83.48, 0), (0, 0, 270))):
            Circle(SKETCH4_R)
        with Locations(Location((29.662, -2, 0), (0, 0, 270))):
            Circle(SKETCH4_R)
        with Locations(Location((4.582, -2, 0), (0, 0, 270))):
            Circle(SKETCH4_R)
        with Locations(Location((35.754, -83.48, 0), (0, 0, 270))):
            Circle(SKETCH4_R)
        with Locations(Location((60.834, -83.48, 0), (0, 0, 270))):
            Circle(SKETCH4_R)
        with Locations(Location((60.834, -2, 0), (0, 0, 270))):
            Circle(SKETCH4_R)
        with Locations(Location((35.754, -2, 0), (0, 0, 270))):
            Circle(SKETCH4_R)
        with Locations(Location((66.926, -83.48, 0), (0, 0, 270))):
            Circle(SKETCH4_R)
        with Locations(Location((92.006, -83.48, 0), (0, 0, 270))):
            Circle(SKETCH4_R)
        with Locations(Location((92.006, -2, 0), (0, 0, 270))):
            Circle(SKETCH4_R)
        with Locations(Location((66.926, -2, 0), (0, 0, 270))):
            Circle(SKETCH4_R)
        with Locations(Location((98.098, -83.48, 0), (0, 0, 270))):
            Circle(SKETCH4_R)
        with Locations(Location((123.178, -83.48, 0), (0, 0, 270))):
            Circle(SKETCH4_R)
        with Locations(Location((123.178, -2, 0), (0, 0, 270))):
            Circle(SKETCH4_R)
        with Locations(Location((98.098, -2, 0), (0, 0, 270))):
            Circle(SKETCH4_R)
    extrude(amount=-CUT_EXTRUDE1_DEPTH, mode=Mode.SUBTRACT)


solid = part.part
